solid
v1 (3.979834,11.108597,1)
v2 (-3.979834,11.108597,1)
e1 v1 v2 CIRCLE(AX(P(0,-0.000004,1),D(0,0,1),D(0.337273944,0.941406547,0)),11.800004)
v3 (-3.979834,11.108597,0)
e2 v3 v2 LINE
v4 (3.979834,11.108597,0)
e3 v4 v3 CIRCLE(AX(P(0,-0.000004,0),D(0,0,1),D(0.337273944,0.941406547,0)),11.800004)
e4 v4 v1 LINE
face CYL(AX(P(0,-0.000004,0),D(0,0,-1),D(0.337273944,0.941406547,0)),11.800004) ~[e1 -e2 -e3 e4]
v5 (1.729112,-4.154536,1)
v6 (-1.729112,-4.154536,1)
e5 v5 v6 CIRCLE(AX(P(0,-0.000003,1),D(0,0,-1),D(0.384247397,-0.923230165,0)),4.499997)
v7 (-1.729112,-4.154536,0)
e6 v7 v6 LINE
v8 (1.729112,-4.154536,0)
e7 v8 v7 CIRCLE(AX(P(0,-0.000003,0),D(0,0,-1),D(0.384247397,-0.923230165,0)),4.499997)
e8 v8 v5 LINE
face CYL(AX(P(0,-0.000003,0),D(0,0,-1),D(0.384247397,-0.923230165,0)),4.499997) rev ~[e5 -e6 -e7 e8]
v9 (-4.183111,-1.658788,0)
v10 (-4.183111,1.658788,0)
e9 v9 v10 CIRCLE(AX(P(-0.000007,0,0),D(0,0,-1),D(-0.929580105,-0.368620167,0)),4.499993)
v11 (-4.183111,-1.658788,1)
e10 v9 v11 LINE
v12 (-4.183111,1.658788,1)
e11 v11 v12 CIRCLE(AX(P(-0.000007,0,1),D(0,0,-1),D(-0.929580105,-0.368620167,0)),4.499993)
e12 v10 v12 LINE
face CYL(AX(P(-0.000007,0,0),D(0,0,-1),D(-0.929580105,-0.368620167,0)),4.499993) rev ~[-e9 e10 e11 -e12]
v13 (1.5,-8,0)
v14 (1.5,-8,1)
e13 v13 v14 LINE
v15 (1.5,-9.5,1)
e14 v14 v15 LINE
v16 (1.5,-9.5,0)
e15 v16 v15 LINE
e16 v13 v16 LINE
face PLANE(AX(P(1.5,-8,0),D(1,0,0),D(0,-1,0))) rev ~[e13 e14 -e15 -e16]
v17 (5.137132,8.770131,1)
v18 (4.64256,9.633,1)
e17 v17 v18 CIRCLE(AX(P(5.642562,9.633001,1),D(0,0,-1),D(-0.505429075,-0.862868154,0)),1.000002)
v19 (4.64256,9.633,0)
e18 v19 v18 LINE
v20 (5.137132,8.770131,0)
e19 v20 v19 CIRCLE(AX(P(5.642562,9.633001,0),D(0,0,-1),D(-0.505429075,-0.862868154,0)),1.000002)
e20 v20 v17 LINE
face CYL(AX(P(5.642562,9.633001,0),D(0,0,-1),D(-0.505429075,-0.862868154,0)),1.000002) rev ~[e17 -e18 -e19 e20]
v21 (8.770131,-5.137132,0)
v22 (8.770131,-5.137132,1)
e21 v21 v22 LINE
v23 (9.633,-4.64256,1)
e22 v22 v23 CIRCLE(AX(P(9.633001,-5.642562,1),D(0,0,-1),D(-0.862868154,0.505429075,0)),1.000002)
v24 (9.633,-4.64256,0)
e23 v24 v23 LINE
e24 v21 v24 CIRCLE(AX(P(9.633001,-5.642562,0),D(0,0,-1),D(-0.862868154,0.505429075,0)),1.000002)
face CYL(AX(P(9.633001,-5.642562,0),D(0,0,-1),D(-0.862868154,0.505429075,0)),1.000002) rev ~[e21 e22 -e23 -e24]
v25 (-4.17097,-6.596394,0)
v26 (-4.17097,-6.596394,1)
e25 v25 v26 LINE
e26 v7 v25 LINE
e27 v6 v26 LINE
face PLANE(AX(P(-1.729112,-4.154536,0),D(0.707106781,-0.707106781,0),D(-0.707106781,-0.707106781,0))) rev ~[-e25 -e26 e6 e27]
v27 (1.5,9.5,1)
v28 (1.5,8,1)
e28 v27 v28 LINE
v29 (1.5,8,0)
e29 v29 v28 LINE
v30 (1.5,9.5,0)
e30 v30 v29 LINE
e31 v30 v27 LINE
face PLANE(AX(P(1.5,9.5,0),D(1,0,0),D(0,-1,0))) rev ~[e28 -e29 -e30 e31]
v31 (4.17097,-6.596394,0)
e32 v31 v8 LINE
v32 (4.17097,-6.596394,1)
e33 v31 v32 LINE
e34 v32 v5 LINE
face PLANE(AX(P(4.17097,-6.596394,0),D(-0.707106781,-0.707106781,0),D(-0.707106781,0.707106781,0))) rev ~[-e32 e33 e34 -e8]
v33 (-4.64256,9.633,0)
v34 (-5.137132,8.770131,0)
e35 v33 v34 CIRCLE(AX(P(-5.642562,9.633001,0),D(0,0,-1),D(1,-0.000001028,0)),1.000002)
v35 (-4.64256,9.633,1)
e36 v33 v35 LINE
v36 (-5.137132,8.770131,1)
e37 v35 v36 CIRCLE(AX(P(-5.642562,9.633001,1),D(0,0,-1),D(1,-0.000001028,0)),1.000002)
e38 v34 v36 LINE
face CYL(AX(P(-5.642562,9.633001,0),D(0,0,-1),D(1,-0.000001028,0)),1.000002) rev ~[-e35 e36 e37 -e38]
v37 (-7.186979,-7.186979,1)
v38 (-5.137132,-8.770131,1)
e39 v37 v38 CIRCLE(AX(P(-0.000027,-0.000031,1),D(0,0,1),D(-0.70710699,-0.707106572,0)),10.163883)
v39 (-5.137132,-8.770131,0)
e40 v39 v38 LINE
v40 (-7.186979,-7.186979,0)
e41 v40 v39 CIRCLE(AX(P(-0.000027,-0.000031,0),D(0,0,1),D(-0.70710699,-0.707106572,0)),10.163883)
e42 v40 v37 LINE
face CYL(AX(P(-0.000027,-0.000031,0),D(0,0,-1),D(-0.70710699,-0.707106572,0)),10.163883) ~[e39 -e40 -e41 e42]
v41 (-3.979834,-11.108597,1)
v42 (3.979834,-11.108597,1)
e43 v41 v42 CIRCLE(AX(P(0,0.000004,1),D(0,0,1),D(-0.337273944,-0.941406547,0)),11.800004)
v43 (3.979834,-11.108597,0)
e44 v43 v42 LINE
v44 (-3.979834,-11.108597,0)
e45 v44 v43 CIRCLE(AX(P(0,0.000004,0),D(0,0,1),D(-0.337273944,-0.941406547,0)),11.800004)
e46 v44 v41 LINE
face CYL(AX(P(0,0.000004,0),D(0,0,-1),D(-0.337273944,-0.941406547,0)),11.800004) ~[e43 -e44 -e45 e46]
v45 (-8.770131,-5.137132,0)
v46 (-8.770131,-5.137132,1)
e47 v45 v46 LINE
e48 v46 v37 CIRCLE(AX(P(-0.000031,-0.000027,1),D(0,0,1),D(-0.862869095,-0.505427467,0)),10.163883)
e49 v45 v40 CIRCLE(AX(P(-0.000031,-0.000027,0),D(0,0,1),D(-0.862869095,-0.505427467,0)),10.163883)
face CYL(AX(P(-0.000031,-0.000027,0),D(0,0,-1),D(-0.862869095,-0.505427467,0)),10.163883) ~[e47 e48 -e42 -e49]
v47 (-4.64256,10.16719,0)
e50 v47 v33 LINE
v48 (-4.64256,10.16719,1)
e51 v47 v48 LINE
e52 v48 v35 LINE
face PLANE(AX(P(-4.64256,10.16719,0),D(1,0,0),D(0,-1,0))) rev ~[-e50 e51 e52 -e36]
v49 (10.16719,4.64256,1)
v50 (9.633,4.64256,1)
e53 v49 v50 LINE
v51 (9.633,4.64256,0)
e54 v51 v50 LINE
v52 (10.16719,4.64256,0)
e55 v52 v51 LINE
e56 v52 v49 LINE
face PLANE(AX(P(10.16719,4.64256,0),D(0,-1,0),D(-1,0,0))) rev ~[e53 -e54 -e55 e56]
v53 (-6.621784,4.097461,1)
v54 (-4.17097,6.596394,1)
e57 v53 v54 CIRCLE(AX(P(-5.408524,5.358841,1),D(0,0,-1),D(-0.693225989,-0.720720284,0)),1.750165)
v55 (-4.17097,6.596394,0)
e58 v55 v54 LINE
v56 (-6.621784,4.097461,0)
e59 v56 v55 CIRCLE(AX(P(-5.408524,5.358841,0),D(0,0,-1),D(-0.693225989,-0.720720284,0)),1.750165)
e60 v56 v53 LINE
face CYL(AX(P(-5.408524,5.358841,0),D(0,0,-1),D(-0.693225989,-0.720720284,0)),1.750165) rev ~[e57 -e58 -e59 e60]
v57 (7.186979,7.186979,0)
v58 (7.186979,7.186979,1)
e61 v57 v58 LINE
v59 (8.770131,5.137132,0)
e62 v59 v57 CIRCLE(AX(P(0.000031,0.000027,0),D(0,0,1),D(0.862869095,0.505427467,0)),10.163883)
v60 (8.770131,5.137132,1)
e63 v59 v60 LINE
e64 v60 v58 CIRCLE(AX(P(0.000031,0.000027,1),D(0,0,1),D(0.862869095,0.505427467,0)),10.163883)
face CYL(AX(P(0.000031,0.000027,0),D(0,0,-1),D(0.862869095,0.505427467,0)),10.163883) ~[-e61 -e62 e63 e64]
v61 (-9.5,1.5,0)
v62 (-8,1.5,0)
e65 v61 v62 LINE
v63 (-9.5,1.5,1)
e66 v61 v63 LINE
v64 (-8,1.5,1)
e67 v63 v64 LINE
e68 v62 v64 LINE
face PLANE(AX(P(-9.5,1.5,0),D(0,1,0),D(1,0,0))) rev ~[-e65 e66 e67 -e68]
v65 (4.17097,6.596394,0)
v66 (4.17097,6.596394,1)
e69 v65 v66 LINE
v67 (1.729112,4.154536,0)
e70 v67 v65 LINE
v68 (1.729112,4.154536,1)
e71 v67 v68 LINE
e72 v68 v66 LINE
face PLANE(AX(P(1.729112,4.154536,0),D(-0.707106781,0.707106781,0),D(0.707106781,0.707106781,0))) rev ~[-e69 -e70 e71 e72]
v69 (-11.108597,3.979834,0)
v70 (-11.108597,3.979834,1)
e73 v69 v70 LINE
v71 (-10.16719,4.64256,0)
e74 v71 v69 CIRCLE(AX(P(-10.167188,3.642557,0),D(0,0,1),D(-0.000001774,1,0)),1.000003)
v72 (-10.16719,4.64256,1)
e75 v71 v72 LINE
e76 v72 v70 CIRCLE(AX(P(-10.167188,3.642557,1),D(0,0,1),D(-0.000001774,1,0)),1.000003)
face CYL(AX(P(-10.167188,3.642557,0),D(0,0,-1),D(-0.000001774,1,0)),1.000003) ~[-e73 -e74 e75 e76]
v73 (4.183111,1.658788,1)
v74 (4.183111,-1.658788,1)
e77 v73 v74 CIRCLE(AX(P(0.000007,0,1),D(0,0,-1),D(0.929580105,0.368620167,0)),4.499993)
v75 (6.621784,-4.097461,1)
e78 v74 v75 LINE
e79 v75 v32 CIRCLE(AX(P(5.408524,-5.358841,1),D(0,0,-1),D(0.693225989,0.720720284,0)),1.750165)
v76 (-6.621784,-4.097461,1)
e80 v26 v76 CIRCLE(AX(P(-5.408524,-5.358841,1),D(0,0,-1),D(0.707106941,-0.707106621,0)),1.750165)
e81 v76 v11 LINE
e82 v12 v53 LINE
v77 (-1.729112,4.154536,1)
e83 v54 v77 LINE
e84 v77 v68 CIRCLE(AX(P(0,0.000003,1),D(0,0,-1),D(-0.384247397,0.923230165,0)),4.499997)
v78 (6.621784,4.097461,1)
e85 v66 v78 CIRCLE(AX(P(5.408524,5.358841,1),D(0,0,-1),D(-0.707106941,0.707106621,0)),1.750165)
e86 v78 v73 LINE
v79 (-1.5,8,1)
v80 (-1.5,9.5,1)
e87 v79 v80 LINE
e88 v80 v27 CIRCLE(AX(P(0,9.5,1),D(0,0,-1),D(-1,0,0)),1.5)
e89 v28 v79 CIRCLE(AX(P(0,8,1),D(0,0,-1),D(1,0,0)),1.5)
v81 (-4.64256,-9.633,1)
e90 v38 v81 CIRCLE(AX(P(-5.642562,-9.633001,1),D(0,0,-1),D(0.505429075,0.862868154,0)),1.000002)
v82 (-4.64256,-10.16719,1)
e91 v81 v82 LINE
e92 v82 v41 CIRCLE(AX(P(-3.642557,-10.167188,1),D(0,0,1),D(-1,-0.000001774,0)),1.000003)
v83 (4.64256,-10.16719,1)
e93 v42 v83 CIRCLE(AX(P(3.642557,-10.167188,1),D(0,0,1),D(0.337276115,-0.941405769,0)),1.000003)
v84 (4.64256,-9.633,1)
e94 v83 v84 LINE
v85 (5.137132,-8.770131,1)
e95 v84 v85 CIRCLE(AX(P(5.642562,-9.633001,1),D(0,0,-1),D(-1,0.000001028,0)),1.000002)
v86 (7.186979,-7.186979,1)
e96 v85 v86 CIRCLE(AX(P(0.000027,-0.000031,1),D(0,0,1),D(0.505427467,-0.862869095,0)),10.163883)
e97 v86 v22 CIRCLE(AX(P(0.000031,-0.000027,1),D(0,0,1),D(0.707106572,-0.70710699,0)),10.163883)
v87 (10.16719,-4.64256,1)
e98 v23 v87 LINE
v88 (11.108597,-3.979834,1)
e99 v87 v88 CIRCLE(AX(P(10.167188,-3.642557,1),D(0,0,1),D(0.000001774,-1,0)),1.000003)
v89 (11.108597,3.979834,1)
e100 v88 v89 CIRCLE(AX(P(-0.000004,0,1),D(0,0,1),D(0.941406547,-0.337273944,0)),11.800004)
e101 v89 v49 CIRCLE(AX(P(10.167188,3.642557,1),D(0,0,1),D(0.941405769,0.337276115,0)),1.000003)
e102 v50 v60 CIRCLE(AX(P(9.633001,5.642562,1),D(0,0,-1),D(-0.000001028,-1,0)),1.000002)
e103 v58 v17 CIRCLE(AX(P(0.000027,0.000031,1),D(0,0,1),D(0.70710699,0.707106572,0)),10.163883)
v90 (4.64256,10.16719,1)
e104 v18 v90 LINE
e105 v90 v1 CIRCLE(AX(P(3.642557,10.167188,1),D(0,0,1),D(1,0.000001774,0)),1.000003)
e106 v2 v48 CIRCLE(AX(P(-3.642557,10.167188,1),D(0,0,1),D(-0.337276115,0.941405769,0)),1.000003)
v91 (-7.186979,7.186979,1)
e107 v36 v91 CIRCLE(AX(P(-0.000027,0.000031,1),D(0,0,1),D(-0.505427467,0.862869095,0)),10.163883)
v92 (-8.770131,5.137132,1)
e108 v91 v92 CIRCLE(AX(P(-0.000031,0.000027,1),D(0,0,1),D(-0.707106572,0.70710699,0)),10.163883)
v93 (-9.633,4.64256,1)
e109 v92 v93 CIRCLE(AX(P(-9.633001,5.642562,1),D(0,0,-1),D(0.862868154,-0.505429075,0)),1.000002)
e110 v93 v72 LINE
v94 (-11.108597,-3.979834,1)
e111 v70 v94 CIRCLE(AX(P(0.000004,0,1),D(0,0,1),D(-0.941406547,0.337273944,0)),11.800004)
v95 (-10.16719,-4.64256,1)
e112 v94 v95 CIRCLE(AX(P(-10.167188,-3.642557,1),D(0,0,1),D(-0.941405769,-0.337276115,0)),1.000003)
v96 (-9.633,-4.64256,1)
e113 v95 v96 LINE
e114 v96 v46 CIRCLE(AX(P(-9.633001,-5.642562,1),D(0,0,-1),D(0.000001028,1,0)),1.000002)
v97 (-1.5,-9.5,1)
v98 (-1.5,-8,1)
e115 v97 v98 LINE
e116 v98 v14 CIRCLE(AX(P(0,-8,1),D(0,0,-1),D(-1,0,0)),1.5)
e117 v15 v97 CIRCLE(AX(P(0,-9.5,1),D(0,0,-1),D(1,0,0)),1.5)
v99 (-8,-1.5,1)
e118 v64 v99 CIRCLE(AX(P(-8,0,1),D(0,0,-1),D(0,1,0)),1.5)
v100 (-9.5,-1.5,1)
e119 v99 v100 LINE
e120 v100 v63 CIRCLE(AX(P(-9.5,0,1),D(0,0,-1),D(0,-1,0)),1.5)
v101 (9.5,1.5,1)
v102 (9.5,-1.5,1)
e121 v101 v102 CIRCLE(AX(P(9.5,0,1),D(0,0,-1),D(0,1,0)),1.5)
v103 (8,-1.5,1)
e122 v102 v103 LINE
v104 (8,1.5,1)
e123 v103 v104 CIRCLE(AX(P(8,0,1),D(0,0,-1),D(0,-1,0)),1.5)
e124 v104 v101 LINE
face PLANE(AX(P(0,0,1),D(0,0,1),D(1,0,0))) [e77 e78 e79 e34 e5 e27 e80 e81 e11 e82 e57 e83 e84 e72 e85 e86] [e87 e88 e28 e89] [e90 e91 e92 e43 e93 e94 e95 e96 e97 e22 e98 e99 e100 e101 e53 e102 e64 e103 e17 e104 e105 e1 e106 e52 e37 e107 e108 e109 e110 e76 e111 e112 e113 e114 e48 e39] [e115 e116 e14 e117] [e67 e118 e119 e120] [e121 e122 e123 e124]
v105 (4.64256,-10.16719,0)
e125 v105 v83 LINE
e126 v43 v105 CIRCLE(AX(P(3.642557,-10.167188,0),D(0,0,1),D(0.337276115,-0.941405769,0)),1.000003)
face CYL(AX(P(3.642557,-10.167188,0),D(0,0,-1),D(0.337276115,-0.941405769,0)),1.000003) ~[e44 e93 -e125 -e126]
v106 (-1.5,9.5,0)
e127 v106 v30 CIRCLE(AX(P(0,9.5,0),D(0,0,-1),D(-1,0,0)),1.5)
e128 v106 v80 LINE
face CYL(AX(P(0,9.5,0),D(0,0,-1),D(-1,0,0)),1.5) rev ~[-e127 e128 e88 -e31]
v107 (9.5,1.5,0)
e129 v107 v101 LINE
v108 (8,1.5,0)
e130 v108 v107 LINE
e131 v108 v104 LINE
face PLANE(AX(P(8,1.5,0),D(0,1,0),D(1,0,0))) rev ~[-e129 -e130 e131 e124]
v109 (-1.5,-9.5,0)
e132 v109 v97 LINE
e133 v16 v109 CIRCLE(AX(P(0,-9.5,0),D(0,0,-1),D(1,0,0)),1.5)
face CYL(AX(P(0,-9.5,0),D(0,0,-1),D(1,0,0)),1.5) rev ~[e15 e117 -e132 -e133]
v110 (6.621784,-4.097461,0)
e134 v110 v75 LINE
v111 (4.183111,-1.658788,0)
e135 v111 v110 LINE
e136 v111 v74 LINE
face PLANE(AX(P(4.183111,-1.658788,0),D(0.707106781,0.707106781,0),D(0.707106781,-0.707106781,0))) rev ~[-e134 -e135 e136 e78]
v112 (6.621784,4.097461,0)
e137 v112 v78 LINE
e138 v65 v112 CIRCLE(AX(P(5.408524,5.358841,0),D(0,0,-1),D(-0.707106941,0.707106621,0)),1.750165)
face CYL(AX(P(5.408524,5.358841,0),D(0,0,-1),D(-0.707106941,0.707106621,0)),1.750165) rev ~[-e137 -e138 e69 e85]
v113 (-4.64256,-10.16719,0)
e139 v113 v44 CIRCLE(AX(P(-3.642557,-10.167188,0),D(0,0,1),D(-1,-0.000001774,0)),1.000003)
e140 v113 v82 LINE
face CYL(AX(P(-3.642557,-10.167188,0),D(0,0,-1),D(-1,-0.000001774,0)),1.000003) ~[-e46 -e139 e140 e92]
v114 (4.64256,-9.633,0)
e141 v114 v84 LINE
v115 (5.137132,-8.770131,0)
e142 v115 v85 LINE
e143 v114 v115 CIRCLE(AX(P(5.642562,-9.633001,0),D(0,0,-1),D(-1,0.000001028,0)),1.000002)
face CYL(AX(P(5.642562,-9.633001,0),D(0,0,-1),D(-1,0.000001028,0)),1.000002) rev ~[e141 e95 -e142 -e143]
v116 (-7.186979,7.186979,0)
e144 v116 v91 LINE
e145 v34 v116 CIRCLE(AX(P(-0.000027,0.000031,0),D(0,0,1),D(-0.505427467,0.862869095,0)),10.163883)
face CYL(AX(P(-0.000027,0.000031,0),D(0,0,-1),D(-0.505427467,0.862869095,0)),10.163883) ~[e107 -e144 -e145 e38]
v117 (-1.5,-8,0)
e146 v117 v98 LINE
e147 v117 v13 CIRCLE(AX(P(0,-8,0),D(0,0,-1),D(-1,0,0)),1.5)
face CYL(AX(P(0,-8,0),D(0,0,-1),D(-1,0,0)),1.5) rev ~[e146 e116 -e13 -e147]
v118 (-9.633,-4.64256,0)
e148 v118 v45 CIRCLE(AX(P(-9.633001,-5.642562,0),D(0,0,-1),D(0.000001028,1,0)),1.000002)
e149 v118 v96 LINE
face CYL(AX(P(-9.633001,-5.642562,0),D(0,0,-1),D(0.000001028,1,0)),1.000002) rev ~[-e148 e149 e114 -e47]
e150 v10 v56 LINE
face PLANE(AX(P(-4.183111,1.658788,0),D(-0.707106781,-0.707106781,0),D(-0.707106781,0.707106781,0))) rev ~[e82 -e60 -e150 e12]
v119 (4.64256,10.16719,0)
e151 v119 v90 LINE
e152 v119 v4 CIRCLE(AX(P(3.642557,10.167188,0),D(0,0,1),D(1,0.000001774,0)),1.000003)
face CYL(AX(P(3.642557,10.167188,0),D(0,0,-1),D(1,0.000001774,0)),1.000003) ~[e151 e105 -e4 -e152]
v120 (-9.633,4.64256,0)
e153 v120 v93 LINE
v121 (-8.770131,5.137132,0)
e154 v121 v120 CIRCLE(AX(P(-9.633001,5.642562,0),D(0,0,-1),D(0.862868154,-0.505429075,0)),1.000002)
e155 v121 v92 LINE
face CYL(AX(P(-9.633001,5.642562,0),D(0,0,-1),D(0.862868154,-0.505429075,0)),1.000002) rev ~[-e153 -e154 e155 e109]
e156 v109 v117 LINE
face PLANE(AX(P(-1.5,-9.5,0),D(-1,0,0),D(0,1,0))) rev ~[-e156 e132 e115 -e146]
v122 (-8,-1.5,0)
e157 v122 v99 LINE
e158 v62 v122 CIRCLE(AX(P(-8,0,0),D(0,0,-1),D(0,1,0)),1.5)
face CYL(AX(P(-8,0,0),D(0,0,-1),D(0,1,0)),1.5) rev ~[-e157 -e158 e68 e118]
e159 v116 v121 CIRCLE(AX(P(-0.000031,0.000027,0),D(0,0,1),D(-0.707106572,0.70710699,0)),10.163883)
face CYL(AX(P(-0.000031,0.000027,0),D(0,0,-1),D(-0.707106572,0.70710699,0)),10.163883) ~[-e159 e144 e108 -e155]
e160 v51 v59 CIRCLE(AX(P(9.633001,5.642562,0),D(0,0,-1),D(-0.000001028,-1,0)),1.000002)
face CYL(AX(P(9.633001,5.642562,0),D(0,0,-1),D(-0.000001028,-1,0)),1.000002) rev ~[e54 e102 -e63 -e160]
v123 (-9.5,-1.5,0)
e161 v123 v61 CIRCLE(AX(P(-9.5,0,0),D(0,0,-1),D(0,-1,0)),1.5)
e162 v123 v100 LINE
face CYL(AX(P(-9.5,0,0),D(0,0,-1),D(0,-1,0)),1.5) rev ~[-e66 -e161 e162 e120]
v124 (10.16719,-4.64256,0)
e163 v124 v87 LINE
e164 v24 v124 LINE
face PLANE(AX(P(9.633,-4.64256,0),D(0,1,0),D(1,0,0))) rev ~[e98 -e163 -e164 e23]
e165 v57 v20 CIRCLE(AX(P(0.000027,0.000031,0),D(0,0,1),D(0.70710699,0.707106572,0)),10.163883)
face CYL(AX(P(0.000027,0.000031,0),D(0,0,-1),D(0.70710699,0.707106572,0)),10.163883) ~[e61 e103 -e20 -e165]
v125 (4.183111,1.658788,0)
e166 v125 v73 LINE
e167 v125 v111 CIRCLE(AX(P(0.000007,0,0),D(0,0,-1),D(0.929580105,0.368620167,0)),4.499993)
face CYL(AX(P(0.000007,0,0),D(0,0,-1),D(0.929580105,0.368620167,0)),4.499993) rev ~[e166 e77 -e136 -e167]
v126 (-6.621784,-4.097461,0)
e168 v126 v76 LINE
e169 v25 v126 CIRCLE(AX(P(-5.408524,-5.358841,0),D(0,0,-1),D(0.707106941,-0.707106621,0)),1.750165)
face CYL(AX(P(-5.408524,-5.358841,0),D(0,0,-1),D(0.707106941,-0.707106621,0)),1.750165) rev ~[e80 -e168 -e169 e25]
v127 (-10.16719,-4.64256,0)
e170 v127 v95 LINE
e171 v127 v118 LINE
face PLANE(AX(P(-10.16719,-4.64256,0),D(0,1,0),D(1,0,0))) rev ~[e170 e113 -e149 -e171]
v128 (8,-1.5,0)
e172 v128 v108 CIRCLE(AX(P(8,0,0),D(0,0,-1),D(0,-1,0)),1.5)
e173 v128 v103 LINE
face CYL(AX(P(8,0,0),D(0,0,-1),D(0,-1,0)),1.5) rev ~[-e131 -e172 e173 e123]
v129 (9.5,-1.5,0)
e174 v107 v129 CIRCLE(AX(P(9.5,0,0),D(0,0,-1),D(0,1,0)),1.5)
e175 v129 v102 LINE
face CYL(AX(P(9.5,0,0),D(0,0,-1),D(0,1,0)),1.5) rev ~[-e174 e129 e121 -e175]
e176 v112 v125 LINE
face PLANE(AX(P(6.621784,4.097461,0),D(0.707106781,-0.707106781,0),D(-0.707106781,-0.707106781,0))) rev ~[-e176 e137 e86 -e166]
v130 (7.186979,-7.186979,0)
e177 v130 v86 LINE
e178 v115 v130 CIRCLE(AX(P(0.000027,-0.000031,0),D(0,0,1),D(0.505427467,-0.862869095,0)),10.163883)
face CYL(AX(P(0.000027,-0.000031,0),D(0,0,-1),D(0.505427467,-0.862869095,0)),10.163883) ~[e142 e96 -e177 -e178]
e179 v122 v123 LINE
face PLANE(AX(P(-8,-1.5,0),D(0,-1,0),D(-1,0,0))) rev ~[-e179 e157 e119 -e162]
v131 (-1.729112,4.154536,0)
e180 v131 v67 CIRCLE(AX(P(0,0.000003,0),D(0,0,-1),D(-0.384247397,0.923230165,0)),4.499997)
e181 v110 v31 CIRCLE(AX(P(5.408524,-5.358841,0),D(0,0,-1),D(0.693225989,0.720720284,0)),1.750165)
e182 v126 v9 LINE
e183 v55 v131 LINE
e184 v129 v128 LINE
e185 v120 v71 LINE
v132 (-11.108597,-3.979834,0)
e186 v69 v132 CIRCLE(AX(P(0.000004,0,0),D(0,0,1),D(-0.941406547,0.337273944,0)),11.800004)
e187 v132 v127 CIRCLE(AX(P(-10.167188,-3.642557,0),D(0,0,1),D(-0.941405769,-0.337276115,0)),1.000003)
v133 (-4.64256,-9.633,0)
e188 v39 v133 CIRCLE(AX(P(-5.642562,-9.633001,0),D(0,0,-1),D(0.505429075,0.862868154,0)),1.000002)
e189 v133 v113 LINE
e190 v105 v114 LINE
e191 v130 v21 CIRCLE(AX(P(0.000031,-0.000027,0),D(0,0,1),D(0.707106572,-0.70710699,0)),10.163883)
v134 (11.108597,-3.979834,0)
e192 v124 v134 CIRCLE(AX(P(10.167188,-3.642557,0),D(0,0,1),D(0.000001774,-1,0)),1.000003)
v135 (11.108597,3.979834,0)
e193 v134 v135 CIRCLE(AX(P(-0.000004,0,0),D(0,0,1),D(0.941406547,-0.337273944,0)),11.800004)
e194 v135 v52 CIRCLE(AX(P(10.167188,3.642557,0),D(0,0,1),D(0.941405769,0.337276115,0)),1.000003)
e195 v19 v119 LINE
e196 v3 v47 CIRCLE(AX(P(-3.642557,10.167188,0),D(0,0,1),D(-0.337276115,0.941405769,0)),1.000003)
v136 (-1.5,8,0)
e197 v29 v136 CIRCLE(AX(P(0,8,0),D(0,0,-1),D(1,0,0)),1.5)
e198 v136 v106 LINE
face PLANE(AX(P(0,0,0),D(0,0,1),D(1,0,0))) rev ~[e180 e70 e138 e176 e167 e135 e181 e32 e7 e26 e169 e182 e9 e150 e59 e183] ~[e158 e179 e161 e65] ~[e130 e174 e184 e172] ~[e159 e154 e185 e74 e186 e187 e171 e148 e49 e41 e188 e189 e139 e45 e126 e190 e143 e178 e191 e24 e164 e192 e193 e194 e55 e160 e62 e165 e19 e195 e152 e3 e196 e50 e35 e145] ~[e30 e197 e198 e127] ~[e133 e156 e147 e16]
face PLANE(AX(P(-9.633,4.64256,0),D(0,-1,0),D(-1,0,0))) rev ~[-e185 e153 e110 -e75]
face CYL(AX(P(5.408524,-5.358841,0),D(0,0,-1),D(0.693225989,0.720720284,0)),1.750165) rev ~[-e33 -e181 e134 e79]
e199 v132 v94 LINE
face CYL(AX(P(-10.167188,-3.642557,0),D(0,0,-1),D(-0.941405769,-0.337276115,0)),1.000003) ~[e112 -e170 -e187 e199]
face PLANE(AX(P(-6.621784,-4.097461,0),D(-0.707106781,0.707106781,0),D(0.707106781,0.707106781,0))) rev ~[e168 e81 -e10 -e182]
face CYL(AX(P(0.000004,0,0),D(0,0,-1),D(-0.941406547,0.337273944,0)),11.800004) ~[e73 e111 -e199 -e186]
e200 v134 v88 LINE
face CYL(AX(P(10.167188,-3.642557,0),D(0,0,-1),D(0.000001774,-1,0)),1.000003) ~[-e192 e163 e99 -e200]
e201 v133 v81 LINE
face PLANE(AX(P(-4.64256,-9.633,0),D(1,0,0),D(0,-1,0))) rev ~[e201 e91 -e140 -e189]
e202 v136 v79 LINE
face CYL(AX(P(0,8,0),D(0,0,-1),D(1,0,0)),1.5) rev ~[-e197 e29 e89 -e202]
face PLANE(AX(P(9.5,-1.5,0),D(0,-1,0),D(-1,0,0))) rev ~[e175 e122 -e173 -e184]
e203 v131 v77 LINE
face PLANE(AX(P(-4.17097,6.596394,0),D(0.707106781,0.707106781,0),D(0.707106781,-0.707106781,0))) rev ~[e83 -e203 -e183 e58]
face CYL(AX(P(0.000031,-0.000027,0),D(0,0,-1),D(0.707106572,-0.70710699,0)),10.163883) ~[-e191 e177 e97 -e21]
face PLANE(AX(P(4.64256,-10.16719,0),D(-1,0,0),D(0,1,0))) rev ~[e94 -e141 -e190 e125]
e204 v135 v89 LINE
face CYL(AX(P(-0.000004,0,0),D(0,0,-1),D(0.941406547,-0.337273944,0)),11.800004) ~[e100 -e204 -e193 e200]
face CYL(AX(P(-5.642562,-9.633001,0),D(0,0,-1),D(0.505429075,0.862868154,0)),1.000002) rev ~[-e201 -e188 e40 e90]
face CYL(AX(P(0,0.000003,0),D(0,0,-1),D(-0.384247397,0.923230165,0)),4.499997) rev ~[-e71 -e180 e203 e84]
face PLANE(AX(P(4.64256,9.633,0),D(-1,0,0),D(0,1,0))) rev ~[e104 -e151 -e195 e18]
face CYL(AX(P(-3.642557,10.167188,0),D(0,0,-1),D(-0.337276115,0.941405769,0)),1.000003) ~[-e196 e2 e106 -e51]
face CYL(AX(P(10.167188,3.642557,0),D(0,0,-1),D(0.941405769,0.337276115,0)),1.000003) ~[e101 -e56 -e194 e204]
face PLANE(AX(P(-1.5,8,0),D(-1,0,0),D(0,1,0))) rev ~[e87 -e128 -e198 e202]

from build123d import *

# Parameters (mm, degrees)
F1_DEPTH = 1


with BuildPart() as f1:
    # F0 (on Top) → F1 (new body)
    with BuildSketch(Plane.XY):
        with BuildLine():
            ThreePointArc((4.64256, 10.16719), (4.460262, 10.742831), (3.979834, 11.108597))
            ThreePointArc((3.979834, 11.108597), (0, 11.8), (-3.979834, 11.108597))
            ThreePointArc((-3.979834, 11.108597), (-4.460262, 10.742831), (-4.64256, 10.16719))
            Line((-4.64256, 10.16719), (-4.64256, 9.633))
            ThreePointArc((-4.64256, 9.633), (-4.774969, 9.135722), (-5.137132, 8.770131))
            ThreePointArc((-5.137132, 8.770131), (-6.21269, 8.044117), (-7.186979, 7.186979))
            ThreePointArc((-7.186979, 7.186979), (-8.044117, 6.21269), (-8.770131, 5.137132))
            ThreePointArc((-8.770131, 5.137132), (-9.135722, 4.774969), (-9.633, 4.64256))
            Line((-9.633, 4.64256), (-10.16719, 4.64256))
            ThreePointArc((-10.16719, 4.64256), (-10.742831, 4.460262), (-11.108597, 3.979834))
            ThreePointArc((-11.108597, 3.979834), (-11.8, 0), (-11.108597, -3.979834))
            ThreePointArc((-11.108597, -3.979834), (-10.742831, -4.460262), (-10.16719, -4.64256))
            Line((-10.16719, -4.64256), (-9.633, -4.64256))
            ThreePointArc((-9.633, -4.64256), (-9.135722, -4.774969), (-8.770131, -5.137132))
            ThreePointArc((-8.770131, -5.137132), (-8.044117, -6.21269), (-7.186979, -7.186979))
            ThreePointArc((-7.186979, -7.186979), (-6.21269, -8.044117), (-5.137132, -8.770131))
            ThreePointArc((-5.137132, -8.770131), (-4.774969, -9.135722), (-4.64256, -9.633))
            Line((-4.64256, -9.633), (-4.64256, -10.16719))
            ThreePointArc((-4.64256, -10.16719), (-4.460262, -10.742831), (-3.979834, -11.108597))
            ThreePointArc((-3.979834, -11.108597), (0, -11.8), (3.979834, -11.108597))
            ThreePointArc((3.979834, -11.108597), (4.460262, -10.742831), (4.64256, -10.16719))
            Line((4.64256, -10.16719), (4.64256, -9.633))
            ThreePointArc((4.64256, -9.633), (4.774969, -9.135722), (5.137132, -8.770131))
            ThreePointArc((5.137132, -8.770131), (6.21269, -8.044117), (7.186979, -7.186979))
            ThreePointArc((7.186979, -7.186979), (8.044117, -6.21269), (8.770131, -5.137132))
            ThreePointArc((8.770131, -5.137132), (9.135722, -4.774969), (9.633, -4.64256))
            Line((9.633, -4.64256), (10.16719, -4.64256))
            ThreePointArc((10.16719, -4.64256), (10.742831, -4.460262), (11.108597, -3.979834))
            ThreePointArc((11.108597, -3.979834), (11.8, 0), (11.108597, 3.979834))
            ThreePointArc((11.108597, 3.979834), (10.742831, 4.460262), (10.16719, 4.64256))
            Line((10.16719, 4.64256), (9.633, 4.64256))
            ThreePointArc((9.633, 4.64256), (9.135722, 4.774969), (8.770131, 5.137132))
            ThreePointArc((8.770131, 5.137132), (8.044117, 6.21269), (7.186979, 7.186979))
            ThreePointArc((7.186979, 7.186979), (6.21269, 8.044117), (5.137132, 8.770131))
            ThreePointArc((5.137132, 8.770131), (4.774969, 9.135722), (4.64256, 9.633))
            Line((4.64256, 9.633), (4.64256, 10.16719))
        make_face()
        with BuildLine():
            ThreePointArc((-9.5, -1.5), (-11, 0), (-9.5, 1.5))
            Line((-9.5, 1.5), (-8, 1.5))
            ThreePointArc((-8, 1.5), (-6.5, 0), (-8, -1.5))
            Line((-8, -1.5), (-9.5, -1.5))
        make_face(mode=Mode.SUBTRACT)
        with BuildLine():
            Line((1.5, -8), (1.5, -9.5))
            ThreePointArc((1.5, -9.5), (0, -11), (-1.5, -9.5))
            Line((-1.5, -9.5), (-1.5, -8))
            ThreePointArc((-1.5, -8), (0, -6.5), (1.5, -8))
        make_face(mode=Mode.SUBTRACT)
        with BuildLine():
            Line((-4.17097, 6.596394), (-1.729112, 4.154536))
            ThreePointArc((-1.729112, 4.154536), (0, 4.5), (1.729112, 4.154536))
            Line((1.729112, 4.154536), (4.17097, 6.596394))
            ThreePointArc((4.17097, 6.596394), (6.65805, 6.584305), (6.621784, 4.097461))
            Line((6.621784, 4.097461), (4.183111, 1.658788))
            ThreePointArc((4.183111, 1.658788), (4.5, 0), (4.183111, -1.658788))
            Line((4.183111, -1.658788), (6.621784, -4.097461))
            ThreePointArc((6.621784, -4.097461), (6.65805, -6.584305), (4.17097, -6.596394))
            Line((4.17097, -6.596394), (1.729112, -4.154536))
            ThreePointArc((1.729112, -4.154536), (0, -4.5), (-1.729112, -4.154536))
            Line((-1.729112, -4.154536), (-4.17097, -6.596394))
            ThreePointArc((-4.17097, -6.596394), (-6.65805, -6.584305), (-6.621784, -4.097461))
            Line((-6.621784, -4.097461), (-4.183111, -1.658788))
            ThreePointArc((-4.183111, -1.658788), (-4.5, 0), (-4.183111, 1.658788))
            Line((-4.183111, 1.658788), (-6.621784, 4.097461))
            ThreePointArc((-6.621784, 4.097461), (-6.65805, 6.584305), (-4.17097, 6.596394))
        make_face(mode=Mode.SUBTRACT)
        with BuildLine():
            Line((8, 1.5), (9.5, 1.5))
            ThreePointArc((9.5, 1.5), (11, 0), (9.5, -1.5))
            Line((9.5, -1.5), (8, -1.5))
            ThreePointArc((8, -1.5), (6.5, 0), (8, 1.5))
        make_face(mode=Mode.SUBTRACT)
        with BuildLine():
            ThreePointArc((-1.5, 9.5), (0, 11), (1.5, 9.5))
            Line((1.5, 9.5), (1.5, 8))
            ThreePointArc((1.5, 8), (0, 6.5), (-1.5, 8))
            Line((-1.5, 8), (-1.5, 9.5))
        make_face(mode=Mode.SUBTRACT)
    extrude(amount=F1_DEPTH)


solid = f1.part
